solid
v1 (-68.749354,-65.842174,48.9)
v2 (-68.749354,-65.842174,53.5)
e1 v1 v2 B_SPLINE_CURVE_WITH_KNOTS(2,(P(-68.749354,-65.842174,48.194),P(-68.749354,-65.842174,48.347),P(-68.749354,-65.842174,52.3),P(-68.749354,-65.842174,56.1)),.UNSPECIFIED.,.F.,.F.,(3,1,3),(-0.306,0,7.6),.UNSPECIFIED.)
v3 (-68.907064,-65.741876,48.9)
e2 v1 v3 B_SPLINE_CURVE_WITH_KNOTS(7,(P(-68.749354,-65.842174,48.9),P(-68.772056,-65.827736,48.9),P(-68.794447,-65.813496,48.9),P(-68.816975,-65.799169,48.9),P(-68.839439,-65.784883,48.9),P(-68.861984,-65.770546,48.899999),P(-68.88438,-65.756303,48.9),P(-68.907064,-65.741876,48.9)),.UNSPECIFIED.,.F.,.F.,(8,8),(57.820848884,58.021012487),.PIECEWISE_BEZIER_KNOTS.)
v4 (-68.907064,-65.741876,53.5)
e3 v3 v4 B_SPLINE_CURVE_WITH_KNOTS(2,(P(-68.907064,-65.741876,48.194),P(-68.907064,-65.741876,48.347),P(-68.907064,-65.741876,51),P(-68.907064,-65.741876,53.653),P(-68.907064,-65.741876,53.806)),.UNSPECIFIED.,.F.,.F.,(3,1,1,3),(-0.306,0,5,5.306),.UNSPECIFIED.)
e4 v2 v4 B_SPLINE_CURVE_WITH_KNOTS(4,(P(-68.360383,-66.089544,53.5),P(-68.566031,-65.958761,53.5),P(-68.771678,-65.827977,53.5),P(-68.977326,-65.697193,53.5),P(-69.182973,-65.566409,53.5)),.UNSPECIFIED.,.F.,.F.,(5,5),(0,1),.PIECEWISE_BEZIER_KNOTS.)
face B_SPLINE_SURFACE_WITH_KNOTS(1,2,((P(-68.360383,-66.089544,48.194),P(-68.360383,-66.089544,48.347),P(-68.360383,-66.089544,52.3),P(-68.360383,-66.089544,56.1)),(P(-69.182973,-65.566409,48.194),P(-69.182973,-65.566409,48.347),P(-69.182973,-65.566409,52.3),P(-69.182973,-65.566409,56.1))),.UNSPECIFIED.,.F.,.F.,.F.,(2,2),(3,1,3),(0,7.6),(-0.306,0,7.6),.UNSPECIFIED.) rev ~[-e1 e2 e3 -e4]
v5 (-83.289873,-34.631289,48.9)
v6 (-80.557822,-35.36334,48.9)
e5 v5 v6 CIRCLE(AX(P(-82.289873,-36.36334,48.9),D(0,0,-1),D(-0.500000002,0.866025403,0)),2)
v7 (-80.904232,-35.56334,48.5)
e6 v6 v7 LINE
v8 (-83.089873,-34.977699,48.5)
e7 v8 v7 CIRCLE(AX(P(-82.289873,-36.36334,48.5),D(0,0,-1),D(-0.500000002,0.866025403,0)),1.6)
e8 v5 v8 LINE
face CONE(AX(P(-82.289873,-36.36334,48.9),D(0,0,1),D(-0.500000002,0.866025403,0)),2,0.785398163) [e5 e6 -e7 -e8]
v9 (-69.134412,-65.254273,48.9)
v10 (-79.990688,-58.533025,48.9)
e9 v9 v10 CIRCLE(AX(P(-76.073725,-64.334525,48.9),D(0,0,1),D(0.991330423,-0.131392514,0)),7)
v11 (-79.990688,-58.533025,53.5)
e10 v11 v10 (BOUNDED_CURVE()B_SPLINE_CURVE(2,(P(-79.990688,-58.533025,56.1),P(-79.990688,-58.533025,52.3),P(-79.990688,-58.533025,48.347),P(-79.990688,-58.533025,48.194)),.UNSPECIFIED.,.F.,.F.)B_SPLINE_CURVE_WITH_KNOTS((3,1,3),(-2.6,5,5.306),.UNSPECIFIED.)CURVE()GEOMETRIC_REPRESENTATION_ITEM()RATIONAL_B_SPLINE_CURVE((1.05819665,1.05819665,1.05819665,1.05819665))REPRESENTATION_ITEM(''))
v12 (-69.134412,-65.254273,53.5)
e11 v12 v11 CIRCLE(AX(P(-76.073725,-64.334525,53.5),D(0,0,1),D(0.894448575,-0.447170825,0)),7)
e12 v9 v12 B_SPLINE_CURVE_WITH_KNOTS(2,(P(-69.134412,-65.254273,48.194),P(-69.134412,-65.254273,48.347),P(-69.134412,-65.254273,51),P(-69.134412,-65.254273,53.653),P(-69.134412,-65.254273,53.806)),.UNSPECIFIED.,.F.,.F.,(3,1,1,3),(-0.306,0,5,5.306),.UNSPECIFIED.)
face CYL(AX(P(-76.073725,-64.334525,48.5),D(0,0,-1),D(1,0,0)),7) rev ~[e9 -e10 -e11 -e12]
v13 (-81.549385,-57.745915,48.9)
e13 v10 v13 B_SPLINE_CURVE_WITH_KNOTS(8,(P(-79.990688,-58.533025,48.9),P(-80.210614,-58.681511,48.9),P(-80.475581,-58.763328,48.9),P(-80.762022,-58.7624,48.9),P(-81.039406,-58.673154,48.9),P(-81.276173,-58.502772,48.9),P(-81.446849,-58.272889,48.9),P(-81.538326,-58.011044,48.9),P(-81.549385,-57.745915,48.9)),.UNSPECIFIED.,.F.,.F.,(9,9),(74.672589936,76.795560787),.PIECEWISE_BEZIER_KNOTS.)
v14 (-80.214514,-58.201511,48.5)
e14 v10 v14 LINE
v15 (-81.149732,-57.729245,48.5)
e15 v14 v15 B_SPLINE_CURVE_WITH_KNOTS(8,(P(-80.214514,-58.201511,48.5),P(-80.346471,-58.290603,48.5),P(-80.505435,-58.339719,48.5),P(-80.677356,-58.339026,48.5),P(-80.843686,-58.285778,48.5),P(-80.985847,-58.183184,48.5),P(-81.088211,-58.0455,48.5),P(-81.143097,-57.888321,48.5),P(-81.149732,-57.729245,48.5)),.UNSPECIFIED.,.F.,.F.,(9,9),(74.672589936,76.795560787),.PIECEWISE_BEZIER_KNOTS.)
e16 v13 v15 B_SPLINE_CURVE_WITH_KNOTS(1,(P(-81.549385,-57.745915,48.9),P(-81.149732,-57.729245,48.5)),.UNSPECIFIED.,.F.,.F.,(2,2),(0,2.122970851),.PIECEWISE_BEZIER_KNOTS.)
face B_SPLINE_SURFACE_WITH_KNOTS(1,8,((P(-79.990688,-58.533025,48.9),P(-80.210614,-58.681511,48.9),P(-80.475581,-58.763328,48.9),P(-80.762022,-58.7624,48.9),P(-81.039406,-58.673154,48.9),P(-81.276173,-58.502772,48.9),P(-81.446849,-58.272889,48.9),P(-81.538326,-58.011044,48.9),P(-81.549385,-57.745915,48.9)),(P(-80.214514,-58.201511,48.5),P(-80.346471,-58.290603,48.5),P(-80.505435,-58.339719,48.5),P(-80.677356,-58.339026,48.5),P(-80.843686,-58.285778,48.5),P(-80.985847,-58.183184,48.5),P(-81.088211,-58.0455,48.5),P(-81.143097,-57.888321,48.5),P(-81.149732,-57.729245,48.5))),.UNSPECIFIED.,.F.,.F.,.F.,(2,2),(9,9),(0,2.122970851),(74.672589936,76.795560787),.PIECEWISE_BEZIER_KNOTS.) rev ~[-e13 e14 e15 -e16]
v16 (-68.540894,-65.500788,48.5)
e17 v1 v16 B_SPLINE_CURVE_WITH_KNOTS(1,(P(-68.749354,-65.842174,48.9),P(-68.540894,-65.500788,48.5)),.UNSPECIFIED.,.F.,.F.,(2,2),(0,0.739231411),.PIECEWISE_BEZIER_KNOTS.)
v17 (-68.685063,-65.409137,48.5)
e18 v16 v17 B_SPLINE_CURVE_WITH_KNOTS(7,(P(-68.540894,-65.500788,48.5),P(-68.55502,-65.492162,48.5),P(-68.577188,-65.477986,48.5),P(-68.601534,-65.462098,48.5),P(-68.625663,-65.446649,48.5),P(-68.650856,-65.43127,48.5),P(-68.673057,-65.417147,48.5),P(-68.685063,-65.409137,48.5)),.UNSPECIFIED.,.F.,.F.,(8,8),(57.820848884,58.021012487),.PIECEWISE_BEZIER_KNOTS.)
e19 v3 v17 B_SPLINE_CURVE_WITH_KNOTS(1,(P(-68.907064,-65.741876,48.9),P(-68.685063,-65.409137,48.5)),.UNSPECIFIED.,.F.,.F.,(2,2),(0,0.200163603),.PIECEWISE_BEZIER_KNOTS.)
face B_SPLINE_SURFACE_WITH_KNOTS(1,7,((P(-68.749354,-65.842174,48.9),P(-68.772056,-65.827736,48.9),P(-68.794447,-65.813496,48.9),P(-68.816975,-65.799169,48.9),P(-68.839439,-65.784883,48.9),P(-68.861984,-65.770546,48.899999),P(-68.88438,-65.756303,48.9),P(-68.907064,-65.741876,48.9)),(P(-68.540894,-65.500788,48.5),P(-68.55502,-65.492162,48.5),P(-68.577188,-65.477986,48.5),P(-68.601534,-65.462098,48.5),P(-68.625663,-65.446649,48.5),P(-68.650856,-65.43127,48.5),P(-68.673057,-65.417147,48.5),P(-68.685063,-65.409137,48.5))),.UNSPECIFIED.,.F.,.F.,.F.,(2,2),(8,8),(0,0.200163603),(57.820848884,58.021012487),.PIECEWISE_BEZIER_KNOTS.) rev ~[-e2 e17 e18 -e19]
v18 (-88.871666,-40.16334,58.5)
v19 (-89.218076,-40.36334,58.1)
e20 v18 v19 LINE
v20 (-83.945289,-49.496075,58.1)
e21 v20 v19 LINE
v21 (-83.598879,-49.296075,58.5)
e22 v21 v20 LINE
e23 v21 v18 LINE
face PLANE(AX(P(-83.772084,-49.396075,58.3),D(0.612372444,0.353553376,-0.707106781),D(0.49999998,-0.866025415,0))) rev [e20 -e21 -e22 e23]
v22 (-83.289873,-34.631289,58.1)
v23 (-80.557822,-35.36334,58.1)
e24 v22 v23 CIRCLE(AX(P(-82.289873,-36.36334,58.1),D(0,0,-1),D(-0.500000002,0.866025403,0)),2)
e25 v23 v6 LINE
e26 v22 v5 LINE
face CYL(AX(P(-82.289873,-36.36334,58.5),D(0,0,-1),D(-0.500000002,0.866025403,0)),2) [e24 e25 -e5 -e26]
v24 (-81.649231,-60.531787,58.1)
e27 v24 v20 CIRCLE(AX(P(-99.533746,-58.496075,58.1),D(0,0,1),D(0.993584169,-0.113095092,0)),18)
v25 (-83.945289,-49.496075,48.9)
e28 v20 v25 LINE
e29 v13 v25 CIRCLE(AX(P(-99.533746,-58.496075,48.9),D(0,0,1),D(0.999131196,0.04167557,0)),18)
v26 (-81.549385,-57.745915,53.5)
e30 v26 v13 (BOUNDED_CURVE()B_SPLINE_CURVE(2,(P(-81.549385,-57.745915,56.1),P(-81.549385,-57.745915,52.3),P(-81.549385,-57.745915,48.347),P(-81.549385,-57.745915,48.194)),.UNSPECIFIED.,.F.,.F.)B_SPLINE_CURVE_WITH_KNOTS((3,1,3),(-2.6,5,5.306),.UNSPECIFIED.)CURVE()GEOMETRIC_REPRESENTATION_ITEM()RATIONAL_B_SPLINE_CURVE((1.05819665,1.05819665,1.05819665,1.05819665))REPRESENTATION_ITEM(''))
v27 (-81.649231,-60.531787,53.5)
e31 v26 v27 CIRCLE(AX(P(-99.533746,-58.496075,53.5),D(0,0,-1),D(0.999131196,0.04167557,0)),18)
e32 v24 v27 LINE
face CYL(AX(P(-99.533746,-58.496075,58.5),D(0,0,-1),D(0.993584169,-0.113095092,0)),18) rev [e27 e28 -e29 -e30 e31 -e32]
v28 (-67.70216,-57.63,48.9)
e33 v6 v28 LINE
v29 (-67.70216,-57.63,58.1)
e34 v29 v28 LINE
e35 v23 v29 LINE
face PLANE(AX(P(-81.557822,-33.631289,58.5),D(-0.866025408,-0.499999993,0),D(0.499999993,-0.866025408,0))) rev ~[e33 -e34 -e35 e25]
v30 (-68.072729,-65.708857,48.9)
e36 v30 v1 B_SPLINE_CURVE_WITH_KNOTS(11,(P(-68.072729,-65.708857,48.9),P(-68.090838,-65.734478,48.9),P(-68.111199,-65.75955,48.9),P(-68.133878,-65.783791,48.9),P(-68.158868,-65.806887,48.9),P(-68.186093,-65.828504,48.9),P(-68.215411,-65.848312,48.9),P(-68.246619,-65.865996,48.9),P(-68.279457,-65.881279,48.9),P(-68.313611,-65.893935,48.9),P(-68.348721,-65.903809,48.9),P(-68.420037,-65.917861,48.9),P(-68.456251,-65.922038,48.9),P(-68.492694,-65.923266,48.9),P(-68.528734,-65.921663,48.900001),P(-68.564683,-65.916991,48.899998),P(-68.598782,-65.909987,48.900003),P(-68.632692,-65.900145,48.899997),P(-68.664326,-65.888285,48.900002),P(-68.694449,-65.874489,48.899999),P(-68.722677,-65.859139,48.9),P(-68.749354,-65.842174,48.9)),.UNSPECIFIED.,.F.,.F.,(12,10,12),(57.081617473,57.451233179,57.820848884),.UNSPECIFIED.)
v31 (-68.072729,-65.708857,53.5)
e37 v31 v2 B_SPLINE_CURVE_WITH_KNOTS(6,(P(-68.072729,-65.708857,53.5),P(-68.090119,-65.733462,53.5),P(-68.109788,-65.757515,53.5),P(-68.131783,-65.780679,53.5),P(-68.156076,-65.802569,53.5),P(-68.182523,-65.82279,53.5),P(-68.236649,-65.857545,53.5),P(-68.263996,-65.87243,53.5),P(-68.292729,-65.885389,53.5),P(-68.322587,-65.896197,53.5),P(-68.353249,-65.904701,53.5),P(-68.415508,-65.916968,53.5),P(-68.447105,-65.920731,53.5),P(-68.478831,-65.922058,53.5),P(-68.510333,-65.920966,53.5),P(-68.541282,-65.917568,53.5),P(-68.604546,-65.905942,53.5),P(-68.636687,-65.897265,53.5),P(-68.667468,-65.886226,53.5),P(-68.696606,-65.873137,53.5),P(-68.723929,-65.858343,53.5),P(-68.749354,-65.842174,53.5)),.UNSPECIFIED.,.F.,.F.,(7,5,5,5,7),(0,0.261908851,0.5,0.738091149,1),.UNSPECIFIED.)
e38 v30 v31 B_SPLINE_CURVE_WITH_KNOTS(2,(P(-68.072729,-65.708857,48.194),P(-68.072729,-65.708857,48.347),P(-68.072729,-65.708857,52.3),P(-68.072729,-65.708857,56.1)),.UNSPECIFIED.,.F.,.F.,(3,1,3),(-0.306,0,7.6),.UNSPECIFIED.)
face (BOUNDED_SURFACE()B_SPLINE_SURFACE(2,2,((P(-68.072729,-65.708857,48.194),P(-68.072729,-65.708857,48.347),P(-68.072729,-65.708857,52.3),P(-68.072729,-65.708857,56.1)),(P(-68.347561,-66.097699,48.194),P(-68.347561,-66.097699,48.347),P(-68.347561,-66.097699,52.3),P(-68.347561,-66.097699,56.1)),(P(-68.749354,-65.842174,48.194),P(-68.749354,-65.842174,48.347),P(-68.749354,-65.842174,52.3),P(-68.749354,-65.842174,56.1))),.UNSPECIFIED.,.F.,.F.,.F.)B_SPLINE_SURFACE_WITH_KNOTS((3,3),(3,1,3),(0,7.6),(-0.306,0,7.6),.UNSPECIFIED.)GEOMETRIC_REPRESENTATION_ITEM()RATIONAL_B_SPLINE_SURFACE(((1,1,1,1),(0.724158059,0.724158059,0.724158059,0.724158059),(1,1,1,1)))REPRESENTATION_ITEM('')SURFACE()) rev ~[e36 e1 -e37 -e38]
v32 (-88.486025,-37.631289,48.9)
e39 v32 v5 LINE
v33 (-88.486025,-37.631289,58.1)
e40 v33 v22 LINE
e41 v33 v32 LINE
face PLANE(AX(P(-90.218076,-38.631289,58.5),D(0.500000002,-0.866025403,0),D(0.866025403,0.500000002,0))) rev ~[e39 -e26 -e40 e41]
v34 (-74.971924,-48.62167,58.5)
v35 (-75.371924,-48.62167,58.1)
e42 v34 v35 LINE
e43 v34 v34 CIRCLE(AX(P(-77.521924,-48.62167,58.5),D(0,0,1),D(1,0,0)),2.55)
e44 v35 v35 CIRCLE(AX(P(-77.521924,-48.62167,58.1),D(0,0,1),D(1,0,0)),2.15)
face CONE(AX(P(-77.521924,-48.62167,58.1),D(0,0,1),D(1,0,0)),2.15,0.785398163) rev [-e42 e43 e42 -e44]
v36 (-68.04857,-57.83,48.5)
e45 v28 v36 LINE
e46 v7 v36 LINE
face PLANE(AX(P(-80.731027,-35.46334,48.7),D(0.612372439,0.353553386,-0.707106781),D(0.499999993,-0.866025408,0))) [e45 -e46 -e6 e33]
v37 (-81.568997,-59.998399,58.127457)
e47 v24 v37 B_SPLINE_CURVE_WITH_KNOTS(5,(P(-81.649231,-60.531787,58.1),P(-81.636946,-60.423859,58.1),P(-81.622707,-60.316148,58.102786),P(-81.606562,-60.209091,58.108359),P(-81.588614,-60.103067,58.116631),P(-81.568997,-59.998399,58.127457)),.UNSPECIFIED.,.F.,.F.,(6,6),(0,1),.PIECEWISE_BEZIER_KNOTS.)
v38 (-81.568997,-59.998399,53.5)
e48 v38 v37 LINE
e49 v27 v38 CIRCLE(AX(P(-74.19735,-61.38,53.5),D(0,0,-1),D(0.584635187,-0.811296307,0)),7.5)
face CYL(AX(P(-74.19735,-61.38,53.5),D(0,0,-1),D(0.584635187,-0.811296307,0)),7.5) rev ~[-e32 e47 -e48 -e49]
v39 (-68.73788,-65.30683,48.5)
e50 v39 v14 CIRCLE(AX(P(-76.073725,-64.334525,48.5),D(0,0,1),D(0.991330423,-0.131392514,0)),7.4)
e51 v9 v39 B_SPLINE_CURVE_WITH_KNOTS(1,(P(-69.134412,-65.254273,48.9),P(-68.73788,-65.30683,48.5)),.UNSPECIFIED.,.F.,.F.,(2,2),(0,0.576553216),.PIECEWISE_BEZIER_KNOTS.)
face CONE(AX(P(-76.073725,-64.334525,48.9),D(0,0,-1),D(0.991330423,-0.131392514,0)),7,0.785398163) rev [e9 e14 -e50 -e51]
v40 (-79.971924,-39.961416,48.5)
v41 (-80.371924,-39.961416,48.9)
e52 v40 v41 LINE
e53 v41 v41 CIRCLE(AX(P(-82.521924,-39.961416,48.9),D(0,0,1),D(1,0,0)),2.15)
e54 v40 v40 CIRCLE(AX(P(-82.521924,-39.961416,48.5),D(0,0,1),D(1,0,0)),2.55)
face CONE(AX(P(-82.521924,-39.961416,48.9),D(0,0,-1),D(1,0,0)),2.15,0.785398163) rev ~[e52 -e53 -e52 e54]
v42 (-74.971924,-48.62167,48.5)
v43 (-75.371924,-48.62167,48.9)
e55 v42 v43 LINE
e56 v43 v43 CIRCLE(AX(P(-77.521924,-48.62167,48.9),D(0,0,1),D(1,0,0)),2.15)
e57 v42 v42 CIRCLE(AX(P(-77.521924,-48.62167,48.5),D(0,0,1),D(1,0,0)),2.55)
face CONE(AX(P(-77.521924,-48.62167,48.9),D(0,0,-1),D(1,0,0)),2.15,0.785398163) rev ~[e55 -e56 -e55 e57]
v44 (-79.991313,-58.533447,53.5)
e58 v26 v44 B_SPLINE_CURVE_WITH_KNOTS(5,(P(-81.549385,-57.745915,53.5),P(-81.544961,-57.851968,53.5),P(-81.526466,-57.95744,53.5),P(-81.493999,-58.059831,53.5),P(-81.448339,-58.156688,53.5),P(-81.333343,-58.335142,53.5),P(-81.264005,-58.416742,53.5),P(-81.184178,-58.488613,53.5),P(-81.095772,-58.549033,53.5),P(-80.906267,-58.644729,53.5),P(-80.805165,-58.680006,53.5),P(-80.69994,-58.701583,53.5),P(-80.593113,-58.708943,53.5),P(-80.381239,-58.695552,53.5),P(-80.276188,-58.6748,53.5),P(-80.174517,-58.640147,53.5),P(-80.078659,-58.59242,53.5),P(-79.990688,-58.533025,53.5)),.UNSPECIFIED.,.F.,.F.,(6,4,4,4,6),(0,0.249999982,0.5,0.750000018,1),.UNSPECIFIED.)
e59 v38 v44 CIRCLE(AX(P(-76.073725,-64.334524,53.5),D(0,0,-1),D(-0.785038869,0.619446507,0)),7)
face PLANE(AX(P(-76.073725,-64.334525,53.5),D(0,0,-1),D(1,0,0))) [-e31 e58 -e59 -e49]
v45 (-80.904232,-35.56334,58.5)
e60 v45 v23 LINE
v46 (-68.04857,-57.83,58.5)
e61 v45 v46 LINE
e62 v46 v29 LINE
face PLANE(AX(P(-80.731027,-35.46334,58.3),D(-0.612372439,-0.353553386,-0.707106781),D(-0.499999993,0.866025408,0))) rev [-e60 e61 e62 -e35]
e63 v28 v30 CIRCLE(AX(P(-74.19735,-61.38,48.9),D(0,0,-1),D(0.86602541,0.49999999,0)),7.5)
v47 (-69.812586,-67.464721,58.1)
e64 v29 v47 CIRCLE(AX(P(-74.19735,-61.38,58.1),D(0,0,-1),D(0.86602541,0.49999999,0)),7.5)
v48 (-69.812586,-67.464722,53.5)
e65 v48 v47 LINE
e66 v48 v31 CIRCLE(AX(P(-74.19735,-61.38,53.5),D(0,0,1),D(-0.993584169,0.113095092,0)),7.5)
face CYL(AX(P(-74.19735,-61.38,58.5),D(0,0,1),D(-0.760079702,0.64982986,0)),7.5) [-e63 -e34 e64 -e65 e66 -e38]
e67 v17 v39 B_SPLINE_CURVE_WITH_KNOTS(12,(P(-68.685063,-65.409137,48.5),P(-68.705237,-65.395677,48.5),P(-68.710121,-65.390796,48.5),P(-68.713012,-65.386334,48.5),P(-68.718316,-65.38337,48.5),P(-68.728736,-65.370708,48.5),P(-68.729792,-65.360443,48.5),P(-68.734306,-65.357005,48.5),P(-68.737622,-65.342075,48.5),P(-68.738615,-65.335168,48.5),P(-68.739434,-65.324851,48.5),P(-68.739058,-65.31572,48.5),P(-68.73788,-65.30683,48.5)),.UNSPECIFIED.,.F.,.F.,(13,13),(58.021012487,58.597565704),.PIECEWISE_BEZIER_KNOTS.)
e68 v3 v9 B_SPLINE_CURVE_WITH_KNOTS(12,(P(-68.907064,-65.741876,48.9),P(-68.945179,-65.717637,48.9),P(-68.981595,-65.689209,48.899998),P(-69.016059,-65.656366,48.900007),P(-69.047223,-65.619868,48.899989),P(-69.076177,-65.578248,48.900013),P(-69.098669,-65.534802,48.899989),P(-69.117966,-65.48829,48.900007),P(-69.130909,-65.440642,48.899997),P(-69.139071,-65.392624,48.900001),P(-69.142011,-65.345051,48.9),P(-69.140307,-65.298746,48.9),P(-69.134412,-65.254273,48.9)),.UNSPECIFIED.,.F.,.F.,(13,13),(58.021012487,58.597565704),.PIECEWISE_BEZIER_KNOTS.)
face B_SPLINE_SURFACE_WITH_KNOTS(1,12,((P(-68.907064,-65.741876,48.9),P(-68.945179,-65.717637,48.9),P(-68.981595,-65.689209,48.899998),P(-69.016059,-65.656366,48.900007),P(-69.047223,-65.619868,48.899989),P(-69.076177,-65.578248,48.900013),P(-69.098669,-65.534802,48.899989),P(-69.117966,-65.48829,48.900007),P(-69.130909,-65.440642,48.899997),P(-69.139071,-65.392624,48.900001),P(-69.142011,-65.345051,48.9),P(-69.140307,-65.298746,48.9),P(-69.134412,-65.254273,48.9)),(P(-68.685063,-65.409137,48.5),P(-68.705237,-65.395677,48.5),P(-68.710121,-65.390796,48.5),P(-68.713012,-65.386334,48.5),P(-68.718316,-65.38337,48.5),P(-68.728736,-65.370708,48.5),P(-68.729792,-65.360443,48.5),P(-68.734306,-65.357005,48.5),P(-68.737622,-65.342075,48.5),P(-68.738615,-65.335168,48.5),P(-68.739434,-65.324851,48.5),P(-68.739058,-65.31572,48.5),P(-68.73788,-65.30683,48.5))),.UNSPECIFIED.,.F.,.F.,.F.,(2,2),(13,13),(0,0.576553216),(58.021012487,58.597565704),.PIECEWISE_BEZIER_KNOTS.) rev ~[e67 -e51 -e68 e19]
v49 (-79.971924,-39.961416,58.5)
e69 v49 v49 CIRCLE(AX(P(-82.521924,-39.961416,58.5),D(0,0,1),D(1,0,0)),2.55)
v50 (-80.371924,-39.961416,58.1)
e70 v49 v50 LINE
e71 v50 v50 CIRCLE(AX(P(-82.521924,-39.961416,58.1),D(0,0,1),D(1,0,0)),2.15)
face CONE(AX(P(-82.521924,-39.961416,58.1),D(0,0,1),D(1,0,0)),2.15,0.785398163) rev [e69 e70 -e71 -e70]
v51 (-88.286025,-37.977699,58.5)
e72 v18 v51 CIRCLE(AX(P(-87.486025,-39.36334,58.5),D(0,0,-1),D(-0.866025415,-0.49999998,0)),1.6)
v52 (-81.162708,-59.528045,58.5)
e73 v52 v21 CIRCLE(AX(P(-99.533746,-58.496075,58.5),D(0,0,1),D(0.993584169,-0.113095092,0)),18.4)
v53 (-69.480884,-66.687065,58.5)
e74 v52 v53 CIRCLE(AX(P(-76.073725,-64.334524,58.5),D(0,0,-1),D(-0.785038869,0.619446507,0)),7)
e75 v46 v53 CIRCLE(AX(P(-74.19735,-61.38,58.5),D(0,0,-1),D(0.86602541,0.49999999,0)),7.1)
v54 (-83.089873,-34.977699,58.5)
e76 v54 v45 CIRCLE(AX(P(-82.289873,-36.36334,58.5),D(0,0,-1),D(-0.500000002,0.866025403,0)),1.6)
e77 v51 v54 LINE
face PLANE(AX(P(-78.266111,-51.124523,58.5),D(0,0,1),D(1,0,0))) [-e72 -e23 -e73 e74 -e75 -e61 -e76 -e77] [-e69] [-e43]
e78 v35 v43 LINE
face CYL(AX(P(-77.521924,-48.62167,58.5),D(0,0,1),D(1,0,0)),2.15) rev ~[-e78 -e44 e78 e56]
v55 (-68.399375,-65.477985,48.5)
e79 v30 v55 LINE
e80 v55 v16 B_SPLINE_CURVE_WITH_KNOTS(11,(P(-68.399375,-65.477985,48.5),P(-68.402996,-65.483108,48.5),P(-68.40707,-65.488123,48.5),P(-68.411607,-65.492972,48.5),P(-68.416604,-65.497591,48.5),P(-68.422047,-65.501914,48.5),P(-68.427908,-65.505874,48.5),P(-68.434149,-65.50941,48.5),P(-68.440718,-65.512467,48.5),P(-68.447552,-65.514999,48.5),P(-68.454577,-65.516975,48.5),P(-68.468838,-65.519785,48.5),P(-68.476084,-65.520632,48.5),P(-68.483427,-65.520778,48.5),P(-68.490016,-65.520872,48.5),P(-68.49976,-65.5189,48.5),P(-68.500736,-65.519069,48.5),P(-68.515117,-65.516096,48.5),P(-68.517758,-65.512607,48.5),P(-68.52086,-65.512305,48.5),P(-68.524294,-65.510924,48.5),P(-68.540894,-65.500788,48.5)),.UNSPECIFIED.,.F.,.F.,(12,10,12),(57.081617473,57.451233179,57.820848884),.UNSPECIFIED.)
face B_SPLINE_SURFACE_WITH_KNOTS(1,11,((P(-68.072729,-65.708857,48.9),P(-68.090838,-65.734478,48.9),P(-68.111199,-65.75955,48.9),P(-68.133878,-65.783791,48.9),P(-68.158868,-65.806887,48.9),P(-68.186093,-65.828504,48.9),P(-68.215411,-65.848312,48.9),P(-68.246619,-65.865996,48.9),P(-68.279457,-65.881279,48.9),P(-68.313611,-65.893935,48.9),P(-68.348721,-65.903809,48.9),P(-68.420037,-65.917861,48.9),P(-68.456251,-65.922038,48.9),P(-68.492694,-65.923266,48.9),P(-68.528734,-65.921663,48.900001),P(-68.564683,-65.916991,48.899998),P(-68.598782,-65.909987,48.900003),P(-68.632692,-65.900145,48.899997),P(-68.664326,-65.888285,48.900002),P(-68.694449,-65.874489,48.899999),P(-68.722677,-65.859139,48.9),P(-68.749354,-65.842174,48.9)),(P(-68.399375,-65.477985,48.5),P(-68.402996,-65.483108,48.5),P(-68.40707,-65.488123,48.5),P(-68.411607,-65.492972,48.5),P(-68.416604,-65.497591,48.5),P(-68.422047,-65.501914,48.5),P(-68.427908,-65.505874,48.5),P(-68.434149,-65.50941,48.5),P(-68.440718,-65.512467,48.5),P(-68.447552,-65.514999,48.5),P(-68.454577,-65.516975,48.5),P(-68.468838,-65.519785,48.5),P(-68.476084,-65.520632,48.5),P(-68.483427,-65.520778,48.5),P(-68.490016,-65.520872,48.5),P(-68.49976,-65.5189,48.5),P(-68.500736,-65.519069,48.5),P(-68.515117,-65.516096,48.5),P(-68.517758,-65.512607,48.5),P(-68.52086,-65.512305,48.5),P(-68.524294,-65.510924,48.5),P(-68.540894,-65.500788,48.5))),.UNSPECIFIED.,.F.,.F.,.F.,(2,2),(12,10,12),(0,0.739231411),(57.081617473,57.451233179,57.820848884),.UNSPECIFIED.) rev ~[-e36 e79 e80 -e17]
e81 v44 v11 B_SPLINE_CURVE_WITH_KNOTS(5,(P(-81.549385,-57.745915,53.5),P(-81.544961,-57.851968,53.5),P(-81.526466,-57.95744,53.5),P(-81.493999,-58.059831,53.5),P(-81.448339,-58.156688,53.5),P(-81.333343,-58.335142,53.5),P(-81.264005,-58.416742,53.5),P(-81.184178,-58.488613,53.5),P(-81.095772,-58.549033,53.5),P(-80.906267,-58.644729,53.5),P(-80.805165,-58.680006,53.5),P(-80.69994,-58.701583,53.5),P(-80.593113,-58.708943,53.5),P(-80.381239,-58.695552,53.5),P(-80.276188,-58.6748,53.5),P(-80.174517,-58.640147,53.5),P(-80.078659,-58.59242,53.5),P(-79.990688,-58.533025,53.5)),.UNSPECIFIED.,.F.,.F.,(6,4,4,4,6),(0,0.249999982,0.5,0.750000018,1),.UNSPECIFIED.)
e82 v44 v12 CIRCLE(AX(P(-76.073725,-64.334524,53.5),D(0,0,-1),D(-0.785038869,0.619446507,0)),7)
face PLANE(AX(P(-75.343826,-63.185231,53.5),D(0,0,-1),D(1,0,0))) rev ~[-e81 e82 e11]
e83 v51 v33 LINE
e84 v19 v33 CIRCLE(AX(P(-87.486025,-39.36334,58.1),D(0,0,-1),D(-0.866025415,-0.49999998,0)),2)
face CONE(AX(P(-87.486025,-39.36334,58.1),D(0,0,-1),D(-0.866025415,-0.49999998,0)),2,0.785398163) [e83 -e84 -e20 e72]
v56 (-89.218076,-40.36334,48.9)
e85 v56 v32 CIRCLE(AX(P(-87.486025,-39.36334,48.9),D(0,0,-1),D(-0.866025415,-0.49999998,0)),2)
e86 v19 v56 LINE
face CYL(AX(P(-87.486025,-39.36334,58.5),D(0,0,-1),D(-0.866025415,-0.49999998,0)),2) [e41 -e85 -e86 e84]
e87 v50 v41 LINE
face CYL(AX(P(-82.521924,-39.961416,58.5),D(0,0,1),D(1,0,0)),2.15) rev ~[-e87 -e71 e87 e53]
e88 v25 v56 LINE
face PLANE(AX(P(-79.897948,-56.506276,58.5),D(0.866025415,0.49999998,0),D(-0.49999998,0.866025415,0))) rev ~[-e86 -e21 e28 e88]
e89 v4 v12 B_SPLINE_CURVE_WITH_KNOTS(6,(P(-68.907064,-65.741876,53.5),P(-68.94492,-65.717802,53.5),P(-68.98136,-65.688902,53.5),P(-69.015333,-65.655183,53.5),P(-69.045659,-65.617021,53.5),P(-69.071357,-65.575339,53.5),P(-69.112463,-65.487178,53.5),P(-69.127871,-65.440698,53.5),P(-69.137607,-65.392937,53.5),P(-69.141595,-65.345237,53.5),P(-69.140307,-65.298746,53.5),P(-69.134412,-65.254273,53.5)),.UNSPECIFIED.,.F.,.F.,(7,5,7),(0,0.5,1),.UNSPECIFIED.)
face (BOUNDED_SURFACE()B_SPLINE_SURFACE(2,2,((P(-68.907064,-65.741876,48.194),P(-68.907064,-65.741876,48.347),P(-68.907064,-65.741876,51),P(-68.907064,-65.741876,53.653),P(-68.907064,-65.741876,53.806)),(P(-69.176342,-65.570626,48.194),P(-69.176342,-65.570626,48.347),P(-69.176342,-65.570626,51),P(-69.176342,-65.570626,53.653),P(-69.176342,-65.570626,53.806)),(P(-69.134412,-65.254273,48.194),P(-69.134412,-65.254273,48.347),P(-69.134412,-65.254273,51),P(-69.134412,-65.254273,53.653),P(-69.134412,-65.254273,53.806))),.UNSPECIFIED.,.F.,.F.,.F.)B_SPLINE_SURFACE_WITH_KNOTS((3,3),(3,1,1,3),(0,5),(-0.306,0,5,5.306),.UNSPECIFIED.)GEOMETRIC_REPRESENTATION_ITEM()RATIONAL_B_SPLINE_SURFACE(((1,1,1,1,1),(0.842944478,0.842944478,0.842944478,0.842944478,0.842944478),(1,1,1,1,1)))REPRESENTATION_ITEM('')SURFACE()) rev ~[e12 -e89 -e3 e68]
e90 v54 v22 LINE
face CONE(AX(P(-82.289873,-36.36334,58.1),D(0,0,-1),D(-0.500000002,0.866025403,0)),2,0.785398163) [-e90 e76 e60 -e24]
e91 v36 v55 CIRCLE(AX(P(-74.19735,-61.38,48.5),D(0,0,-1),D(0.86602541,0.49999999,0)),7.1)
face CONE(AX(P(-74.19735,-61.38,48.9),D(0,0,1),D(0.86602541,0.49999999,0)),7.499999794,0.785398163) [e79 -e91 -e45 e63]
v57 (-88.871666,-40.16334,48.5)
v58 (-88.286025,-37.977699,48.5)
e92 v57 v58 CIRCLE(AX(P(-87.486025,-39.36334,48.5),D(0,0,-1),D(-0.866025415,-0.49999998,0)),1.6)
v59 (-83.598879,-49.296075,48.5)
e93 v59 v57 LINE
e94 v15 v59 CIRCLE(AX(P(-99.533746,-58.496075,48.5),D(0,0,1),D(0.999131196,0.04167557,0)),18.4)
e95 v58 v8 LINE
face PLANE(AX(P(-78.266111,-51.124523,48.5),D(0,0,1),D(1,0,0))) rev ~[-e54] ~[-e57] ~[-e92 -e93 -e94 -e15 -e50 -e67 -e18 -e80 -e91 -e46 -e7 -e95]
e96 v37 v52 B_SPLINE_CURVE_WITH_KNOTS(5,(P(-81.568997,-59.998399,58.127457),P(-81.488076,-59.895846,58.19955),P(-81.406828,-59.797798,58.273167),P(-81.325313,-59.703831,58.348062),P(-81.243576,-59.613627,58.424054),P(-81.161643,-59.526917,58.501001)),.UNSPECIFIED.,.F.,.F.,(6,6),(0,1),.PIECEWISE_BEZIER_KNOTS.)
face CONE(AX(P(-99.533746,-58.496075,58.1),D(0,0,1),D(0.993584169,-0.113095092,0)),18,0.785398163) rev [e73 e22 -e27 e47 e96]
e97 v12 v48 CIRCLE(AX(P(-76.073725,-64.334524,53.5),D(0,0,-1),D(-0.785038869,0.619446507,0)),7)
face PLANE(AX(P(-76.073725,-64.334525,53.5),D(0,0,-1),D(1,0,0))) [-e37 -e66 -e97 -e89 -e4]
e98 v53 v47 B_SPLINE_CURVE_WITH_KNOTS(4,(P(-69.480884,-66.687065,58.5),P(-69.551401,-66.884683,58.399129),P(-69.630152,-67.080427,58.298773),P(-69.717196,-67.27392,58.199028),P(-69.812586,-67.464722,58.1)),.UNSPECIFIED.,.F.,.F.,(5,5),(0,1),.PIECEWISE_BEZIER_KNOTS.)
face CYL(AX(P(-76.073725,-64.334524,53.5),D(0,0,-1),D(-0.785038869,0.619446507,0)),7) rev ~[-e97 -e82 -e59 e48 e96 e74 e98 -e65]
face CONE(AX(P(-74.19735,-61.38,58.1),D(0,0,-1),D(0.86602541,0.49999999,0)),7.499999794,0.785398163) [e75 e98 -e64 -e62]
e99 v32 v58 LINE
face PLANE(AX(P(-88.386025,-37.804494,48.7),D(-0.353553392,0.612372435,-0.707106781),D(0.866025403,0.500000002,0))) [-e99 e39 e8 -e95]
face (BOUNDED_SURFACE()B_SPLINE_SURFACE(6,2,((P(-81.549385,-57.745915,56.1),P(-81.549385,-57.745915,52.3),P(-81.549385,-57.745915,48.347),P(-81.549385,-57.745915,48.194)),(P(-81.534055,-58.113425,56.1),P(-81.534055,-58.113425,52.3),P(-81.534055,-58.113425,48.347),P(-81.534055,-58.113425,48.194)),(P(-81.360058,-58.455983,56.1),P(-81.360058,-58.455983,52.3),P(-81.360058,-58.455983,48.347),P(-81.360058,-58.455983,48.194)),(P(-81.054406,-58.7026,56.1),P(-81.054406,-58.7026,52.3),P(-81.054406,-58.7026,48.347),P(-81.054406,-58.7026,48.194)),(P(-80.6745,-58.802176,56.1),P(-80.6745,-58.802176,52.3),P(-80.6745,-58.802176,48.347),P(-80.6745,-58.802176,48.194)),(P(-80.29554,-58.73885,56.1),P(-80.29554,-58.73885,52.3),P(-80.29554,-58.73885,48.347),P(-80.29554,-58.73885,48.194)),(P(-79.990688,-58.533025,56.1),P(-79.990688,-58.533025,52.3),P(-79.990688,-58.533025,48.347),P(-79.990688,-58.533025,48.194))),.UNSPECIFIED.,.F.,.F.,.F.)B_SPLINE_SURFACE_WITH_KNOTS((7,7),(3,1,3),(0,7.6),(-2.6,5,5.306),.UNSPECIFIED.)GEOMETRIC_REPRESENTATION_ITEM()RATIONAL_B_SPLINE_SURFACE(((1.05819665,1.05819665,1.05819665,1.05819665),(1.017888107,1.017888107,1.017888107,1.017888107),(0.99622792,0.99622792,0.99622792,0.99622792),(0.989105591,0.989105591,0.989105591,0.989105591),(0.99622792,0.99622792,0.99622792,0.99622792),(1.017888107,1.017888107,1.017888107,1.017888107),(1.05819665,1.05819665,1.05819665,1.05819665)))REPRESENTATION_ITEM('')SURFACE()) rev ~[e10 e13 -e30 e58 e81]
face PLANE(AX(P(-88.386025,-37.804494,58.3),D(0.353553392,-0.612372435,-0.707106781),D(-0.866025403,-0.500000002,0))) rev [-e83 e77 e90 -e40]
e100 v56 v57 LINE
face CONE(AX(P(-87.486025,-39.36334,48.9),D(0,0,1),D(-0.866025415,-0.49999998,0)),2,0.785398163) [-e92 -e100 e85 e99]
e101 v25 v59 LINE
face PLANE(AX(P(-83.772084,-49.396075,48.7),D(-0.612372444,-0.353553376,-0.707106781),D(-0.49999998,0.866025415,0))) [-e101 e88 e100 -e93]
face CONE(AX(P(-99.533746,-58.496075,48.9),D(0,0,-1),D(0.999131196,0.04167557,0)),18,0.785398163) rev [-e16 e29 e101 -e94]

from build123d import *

# Parameters (mm, degrees)
SKETCH124_R     = 2.15
SKETCH124_R_2   = 2.3
PAD063_DEPTH    = 10
FILLET015_R     = 18
SKETCH125_R     = 7
POCKET024_DEPTH = 5
FILLET016_R     = 1
CHAMFER020_SIZE = 2
FILLET017_R     = 0.5
FILLET018_R     = 2
CHAMFER021_SIZE = 0.4
CHAMFER022_SIZE = 0.4
POCKET025_DEPTH = 5.001


with BuildPart() as part:
    # Sketch124 → Pad063 (new body)
    with BuildSketch(Plane.XY):
        with BuildLine():
            ThreePointArc((-79.897948, -56.506276), (-74.885488, -68.848364), (-67.70216, -57.63))
            Line((-81.557822, -33.631289), (-67.70216, -57.63))
            Line((-90.218076, -38.631289), (-81.557822, -33.631289))
            Line((-79.897948, -56.506276), (-90.218076, -38.631289))
        make_face()
        with Locations((-82.521924, -39.961416)):
            Circle(SKETCH124_R, mode=Mode.SUBTRACT)
        with Locations((-77.521924, -48.62167)):
            Circle(SKETCH124_R, mode=Mode.SUBTRACT)
        with Locations((-76.073725, -64.334525)):
            Circle(SKETCH124_R_2, mode=Mode.SUBTRACT)
    extrude(amount=-PAD063_DEPTH)

    # Fillet015
    fillet015_edges = [part.edges().sort_by_distance(p)[0] for p in [
        (-79.897948, -56.506276, -5),
    ]]
    fillet(fillet015_edges, radius=FILLET015_R)

    # Sketch125 (on Face9 of Pad063) → Pocket024 (cut)
    with BuildSketch(Plane(origin=(0, 0, -10), x_dir=(1, 0, 0), z_dir=(0, 0, -1))):
        with Locations((-76.073725, 64.334525)):
            Circle(SKETCH125_R)
    extrude(amount=-POCKET024_DEPTH, mode=Mode.SUBTRACT)

    # Fillet016
    fillet016_edges = [part.edges().sort_by_distance(p)[0] for p in [
        (-81.599898, -60.037849, -7.5),
    ]]
    fillet(fillet016_edges, radius=FILLET016_R)

    # Chamfer020
    chamfer020_edges = [part.edges().sort_by_distance(p)[0] for p in [
        (-69.812586, -67.464722, -7.5),
    ]]
    chamfer(chamfer020_edges, length=CHAMFER020_SIZE)

    # Fillet017
    fillet017_edges = [part.edges().sort_by_distance(p)[0] for p in [
        (-68.360384, -66.089546, -7.5),
        (-69.182974, -65.56641, -7.5),
    ]]
    fillet(fillet017_edges, radius=FILLET017_R)

    # Fillet018
    fillet018_edges = [part.edges().sort_by_distance(p)[0] for p in [
        (-90.218076, -38.631289, -5),
        (-81.557822, -33.631289, -5),
    ]]
    fillet(fillet018_edges, radius=FILLET018_R)

    # Chamfer021
    chamfer021_edges = [part.edges().sort_by_distance(p)[0] for p in [
        (-86.581683, -44.929707, -10),
        (-89.417877, -38.845701, -10),
        (-82.247957, -53.475965, -10),
        (-85.887949, -36.131289, -10),
        (-81.00102, -58.596881, -10),
        (-81.772235, -34.431488, -10),
        (-72.788816, -58.153152, -10),
        (-74.129991, -46.49667, -10),
        (-69.088914, -64.795399, -10),
        (-66.705228, -61.723657, -10),
        (-69.091911, -65.53126, -10),
        (-68.38438, -65.910837, -10),
        (-68.82821, -65.792027, -10),
        (-84.671924, -39.961416, -10),
        (-79.671924, -48.62167, -10),
        (-74.129991, -46.49667, 0),
        (-81.772235, -34.431488, 0),
        (-72.669638, -68.722758, 0),
        (-85.887949, -36.131289, 0),
        (-81.911127, -54.829564, 0),
        (-89.417877, -38.845701, 0),
        (-86.581683, -44.929707, 0),
        (-78.373725, -64.334525, 0),
        (-84.671924, -39.961416, 0),
        (-79.671924, -48.62167, 0),
    ]]
    chamfer(chamfer021_edges, length=CHAMFER021_SIZE)

    # Chamfer022
    chamfer022_edges = [part.edges().sort_by_distance(p)[0] for p in [
        (-78.373725, -64.334525, -5),
    ]]
    chamfer(chamfer022_edges, length=CHAMFER022_SIZE)


with BuildPart() as part_1:
    # Body054 placement: moved
    add(part.part.moved(Location((0, 0, 58.5))))

    # Sketch126 (on Binder) → Pocket025 (cut, through all)
    with BuildSketch(Plane(origin=(0, 0, 53.5), x_dir=(1, 0, 0), z_dir=(0, 0, -1))):
        with BuildLine():
            ThreePointArc((-81.568997, 59.998399), (-72.320975, 58.425475), (-69.812586, 67.464722))
            ThreePointArc((-69.812586, 67.464722), (-78.218154, 67.711124), (-81.568997, 59.998399))
        make_face()
    extrude(amount=-POCKET025_DEPTH, mode=Mode.SUBTRACT)


solid = part_1.part
